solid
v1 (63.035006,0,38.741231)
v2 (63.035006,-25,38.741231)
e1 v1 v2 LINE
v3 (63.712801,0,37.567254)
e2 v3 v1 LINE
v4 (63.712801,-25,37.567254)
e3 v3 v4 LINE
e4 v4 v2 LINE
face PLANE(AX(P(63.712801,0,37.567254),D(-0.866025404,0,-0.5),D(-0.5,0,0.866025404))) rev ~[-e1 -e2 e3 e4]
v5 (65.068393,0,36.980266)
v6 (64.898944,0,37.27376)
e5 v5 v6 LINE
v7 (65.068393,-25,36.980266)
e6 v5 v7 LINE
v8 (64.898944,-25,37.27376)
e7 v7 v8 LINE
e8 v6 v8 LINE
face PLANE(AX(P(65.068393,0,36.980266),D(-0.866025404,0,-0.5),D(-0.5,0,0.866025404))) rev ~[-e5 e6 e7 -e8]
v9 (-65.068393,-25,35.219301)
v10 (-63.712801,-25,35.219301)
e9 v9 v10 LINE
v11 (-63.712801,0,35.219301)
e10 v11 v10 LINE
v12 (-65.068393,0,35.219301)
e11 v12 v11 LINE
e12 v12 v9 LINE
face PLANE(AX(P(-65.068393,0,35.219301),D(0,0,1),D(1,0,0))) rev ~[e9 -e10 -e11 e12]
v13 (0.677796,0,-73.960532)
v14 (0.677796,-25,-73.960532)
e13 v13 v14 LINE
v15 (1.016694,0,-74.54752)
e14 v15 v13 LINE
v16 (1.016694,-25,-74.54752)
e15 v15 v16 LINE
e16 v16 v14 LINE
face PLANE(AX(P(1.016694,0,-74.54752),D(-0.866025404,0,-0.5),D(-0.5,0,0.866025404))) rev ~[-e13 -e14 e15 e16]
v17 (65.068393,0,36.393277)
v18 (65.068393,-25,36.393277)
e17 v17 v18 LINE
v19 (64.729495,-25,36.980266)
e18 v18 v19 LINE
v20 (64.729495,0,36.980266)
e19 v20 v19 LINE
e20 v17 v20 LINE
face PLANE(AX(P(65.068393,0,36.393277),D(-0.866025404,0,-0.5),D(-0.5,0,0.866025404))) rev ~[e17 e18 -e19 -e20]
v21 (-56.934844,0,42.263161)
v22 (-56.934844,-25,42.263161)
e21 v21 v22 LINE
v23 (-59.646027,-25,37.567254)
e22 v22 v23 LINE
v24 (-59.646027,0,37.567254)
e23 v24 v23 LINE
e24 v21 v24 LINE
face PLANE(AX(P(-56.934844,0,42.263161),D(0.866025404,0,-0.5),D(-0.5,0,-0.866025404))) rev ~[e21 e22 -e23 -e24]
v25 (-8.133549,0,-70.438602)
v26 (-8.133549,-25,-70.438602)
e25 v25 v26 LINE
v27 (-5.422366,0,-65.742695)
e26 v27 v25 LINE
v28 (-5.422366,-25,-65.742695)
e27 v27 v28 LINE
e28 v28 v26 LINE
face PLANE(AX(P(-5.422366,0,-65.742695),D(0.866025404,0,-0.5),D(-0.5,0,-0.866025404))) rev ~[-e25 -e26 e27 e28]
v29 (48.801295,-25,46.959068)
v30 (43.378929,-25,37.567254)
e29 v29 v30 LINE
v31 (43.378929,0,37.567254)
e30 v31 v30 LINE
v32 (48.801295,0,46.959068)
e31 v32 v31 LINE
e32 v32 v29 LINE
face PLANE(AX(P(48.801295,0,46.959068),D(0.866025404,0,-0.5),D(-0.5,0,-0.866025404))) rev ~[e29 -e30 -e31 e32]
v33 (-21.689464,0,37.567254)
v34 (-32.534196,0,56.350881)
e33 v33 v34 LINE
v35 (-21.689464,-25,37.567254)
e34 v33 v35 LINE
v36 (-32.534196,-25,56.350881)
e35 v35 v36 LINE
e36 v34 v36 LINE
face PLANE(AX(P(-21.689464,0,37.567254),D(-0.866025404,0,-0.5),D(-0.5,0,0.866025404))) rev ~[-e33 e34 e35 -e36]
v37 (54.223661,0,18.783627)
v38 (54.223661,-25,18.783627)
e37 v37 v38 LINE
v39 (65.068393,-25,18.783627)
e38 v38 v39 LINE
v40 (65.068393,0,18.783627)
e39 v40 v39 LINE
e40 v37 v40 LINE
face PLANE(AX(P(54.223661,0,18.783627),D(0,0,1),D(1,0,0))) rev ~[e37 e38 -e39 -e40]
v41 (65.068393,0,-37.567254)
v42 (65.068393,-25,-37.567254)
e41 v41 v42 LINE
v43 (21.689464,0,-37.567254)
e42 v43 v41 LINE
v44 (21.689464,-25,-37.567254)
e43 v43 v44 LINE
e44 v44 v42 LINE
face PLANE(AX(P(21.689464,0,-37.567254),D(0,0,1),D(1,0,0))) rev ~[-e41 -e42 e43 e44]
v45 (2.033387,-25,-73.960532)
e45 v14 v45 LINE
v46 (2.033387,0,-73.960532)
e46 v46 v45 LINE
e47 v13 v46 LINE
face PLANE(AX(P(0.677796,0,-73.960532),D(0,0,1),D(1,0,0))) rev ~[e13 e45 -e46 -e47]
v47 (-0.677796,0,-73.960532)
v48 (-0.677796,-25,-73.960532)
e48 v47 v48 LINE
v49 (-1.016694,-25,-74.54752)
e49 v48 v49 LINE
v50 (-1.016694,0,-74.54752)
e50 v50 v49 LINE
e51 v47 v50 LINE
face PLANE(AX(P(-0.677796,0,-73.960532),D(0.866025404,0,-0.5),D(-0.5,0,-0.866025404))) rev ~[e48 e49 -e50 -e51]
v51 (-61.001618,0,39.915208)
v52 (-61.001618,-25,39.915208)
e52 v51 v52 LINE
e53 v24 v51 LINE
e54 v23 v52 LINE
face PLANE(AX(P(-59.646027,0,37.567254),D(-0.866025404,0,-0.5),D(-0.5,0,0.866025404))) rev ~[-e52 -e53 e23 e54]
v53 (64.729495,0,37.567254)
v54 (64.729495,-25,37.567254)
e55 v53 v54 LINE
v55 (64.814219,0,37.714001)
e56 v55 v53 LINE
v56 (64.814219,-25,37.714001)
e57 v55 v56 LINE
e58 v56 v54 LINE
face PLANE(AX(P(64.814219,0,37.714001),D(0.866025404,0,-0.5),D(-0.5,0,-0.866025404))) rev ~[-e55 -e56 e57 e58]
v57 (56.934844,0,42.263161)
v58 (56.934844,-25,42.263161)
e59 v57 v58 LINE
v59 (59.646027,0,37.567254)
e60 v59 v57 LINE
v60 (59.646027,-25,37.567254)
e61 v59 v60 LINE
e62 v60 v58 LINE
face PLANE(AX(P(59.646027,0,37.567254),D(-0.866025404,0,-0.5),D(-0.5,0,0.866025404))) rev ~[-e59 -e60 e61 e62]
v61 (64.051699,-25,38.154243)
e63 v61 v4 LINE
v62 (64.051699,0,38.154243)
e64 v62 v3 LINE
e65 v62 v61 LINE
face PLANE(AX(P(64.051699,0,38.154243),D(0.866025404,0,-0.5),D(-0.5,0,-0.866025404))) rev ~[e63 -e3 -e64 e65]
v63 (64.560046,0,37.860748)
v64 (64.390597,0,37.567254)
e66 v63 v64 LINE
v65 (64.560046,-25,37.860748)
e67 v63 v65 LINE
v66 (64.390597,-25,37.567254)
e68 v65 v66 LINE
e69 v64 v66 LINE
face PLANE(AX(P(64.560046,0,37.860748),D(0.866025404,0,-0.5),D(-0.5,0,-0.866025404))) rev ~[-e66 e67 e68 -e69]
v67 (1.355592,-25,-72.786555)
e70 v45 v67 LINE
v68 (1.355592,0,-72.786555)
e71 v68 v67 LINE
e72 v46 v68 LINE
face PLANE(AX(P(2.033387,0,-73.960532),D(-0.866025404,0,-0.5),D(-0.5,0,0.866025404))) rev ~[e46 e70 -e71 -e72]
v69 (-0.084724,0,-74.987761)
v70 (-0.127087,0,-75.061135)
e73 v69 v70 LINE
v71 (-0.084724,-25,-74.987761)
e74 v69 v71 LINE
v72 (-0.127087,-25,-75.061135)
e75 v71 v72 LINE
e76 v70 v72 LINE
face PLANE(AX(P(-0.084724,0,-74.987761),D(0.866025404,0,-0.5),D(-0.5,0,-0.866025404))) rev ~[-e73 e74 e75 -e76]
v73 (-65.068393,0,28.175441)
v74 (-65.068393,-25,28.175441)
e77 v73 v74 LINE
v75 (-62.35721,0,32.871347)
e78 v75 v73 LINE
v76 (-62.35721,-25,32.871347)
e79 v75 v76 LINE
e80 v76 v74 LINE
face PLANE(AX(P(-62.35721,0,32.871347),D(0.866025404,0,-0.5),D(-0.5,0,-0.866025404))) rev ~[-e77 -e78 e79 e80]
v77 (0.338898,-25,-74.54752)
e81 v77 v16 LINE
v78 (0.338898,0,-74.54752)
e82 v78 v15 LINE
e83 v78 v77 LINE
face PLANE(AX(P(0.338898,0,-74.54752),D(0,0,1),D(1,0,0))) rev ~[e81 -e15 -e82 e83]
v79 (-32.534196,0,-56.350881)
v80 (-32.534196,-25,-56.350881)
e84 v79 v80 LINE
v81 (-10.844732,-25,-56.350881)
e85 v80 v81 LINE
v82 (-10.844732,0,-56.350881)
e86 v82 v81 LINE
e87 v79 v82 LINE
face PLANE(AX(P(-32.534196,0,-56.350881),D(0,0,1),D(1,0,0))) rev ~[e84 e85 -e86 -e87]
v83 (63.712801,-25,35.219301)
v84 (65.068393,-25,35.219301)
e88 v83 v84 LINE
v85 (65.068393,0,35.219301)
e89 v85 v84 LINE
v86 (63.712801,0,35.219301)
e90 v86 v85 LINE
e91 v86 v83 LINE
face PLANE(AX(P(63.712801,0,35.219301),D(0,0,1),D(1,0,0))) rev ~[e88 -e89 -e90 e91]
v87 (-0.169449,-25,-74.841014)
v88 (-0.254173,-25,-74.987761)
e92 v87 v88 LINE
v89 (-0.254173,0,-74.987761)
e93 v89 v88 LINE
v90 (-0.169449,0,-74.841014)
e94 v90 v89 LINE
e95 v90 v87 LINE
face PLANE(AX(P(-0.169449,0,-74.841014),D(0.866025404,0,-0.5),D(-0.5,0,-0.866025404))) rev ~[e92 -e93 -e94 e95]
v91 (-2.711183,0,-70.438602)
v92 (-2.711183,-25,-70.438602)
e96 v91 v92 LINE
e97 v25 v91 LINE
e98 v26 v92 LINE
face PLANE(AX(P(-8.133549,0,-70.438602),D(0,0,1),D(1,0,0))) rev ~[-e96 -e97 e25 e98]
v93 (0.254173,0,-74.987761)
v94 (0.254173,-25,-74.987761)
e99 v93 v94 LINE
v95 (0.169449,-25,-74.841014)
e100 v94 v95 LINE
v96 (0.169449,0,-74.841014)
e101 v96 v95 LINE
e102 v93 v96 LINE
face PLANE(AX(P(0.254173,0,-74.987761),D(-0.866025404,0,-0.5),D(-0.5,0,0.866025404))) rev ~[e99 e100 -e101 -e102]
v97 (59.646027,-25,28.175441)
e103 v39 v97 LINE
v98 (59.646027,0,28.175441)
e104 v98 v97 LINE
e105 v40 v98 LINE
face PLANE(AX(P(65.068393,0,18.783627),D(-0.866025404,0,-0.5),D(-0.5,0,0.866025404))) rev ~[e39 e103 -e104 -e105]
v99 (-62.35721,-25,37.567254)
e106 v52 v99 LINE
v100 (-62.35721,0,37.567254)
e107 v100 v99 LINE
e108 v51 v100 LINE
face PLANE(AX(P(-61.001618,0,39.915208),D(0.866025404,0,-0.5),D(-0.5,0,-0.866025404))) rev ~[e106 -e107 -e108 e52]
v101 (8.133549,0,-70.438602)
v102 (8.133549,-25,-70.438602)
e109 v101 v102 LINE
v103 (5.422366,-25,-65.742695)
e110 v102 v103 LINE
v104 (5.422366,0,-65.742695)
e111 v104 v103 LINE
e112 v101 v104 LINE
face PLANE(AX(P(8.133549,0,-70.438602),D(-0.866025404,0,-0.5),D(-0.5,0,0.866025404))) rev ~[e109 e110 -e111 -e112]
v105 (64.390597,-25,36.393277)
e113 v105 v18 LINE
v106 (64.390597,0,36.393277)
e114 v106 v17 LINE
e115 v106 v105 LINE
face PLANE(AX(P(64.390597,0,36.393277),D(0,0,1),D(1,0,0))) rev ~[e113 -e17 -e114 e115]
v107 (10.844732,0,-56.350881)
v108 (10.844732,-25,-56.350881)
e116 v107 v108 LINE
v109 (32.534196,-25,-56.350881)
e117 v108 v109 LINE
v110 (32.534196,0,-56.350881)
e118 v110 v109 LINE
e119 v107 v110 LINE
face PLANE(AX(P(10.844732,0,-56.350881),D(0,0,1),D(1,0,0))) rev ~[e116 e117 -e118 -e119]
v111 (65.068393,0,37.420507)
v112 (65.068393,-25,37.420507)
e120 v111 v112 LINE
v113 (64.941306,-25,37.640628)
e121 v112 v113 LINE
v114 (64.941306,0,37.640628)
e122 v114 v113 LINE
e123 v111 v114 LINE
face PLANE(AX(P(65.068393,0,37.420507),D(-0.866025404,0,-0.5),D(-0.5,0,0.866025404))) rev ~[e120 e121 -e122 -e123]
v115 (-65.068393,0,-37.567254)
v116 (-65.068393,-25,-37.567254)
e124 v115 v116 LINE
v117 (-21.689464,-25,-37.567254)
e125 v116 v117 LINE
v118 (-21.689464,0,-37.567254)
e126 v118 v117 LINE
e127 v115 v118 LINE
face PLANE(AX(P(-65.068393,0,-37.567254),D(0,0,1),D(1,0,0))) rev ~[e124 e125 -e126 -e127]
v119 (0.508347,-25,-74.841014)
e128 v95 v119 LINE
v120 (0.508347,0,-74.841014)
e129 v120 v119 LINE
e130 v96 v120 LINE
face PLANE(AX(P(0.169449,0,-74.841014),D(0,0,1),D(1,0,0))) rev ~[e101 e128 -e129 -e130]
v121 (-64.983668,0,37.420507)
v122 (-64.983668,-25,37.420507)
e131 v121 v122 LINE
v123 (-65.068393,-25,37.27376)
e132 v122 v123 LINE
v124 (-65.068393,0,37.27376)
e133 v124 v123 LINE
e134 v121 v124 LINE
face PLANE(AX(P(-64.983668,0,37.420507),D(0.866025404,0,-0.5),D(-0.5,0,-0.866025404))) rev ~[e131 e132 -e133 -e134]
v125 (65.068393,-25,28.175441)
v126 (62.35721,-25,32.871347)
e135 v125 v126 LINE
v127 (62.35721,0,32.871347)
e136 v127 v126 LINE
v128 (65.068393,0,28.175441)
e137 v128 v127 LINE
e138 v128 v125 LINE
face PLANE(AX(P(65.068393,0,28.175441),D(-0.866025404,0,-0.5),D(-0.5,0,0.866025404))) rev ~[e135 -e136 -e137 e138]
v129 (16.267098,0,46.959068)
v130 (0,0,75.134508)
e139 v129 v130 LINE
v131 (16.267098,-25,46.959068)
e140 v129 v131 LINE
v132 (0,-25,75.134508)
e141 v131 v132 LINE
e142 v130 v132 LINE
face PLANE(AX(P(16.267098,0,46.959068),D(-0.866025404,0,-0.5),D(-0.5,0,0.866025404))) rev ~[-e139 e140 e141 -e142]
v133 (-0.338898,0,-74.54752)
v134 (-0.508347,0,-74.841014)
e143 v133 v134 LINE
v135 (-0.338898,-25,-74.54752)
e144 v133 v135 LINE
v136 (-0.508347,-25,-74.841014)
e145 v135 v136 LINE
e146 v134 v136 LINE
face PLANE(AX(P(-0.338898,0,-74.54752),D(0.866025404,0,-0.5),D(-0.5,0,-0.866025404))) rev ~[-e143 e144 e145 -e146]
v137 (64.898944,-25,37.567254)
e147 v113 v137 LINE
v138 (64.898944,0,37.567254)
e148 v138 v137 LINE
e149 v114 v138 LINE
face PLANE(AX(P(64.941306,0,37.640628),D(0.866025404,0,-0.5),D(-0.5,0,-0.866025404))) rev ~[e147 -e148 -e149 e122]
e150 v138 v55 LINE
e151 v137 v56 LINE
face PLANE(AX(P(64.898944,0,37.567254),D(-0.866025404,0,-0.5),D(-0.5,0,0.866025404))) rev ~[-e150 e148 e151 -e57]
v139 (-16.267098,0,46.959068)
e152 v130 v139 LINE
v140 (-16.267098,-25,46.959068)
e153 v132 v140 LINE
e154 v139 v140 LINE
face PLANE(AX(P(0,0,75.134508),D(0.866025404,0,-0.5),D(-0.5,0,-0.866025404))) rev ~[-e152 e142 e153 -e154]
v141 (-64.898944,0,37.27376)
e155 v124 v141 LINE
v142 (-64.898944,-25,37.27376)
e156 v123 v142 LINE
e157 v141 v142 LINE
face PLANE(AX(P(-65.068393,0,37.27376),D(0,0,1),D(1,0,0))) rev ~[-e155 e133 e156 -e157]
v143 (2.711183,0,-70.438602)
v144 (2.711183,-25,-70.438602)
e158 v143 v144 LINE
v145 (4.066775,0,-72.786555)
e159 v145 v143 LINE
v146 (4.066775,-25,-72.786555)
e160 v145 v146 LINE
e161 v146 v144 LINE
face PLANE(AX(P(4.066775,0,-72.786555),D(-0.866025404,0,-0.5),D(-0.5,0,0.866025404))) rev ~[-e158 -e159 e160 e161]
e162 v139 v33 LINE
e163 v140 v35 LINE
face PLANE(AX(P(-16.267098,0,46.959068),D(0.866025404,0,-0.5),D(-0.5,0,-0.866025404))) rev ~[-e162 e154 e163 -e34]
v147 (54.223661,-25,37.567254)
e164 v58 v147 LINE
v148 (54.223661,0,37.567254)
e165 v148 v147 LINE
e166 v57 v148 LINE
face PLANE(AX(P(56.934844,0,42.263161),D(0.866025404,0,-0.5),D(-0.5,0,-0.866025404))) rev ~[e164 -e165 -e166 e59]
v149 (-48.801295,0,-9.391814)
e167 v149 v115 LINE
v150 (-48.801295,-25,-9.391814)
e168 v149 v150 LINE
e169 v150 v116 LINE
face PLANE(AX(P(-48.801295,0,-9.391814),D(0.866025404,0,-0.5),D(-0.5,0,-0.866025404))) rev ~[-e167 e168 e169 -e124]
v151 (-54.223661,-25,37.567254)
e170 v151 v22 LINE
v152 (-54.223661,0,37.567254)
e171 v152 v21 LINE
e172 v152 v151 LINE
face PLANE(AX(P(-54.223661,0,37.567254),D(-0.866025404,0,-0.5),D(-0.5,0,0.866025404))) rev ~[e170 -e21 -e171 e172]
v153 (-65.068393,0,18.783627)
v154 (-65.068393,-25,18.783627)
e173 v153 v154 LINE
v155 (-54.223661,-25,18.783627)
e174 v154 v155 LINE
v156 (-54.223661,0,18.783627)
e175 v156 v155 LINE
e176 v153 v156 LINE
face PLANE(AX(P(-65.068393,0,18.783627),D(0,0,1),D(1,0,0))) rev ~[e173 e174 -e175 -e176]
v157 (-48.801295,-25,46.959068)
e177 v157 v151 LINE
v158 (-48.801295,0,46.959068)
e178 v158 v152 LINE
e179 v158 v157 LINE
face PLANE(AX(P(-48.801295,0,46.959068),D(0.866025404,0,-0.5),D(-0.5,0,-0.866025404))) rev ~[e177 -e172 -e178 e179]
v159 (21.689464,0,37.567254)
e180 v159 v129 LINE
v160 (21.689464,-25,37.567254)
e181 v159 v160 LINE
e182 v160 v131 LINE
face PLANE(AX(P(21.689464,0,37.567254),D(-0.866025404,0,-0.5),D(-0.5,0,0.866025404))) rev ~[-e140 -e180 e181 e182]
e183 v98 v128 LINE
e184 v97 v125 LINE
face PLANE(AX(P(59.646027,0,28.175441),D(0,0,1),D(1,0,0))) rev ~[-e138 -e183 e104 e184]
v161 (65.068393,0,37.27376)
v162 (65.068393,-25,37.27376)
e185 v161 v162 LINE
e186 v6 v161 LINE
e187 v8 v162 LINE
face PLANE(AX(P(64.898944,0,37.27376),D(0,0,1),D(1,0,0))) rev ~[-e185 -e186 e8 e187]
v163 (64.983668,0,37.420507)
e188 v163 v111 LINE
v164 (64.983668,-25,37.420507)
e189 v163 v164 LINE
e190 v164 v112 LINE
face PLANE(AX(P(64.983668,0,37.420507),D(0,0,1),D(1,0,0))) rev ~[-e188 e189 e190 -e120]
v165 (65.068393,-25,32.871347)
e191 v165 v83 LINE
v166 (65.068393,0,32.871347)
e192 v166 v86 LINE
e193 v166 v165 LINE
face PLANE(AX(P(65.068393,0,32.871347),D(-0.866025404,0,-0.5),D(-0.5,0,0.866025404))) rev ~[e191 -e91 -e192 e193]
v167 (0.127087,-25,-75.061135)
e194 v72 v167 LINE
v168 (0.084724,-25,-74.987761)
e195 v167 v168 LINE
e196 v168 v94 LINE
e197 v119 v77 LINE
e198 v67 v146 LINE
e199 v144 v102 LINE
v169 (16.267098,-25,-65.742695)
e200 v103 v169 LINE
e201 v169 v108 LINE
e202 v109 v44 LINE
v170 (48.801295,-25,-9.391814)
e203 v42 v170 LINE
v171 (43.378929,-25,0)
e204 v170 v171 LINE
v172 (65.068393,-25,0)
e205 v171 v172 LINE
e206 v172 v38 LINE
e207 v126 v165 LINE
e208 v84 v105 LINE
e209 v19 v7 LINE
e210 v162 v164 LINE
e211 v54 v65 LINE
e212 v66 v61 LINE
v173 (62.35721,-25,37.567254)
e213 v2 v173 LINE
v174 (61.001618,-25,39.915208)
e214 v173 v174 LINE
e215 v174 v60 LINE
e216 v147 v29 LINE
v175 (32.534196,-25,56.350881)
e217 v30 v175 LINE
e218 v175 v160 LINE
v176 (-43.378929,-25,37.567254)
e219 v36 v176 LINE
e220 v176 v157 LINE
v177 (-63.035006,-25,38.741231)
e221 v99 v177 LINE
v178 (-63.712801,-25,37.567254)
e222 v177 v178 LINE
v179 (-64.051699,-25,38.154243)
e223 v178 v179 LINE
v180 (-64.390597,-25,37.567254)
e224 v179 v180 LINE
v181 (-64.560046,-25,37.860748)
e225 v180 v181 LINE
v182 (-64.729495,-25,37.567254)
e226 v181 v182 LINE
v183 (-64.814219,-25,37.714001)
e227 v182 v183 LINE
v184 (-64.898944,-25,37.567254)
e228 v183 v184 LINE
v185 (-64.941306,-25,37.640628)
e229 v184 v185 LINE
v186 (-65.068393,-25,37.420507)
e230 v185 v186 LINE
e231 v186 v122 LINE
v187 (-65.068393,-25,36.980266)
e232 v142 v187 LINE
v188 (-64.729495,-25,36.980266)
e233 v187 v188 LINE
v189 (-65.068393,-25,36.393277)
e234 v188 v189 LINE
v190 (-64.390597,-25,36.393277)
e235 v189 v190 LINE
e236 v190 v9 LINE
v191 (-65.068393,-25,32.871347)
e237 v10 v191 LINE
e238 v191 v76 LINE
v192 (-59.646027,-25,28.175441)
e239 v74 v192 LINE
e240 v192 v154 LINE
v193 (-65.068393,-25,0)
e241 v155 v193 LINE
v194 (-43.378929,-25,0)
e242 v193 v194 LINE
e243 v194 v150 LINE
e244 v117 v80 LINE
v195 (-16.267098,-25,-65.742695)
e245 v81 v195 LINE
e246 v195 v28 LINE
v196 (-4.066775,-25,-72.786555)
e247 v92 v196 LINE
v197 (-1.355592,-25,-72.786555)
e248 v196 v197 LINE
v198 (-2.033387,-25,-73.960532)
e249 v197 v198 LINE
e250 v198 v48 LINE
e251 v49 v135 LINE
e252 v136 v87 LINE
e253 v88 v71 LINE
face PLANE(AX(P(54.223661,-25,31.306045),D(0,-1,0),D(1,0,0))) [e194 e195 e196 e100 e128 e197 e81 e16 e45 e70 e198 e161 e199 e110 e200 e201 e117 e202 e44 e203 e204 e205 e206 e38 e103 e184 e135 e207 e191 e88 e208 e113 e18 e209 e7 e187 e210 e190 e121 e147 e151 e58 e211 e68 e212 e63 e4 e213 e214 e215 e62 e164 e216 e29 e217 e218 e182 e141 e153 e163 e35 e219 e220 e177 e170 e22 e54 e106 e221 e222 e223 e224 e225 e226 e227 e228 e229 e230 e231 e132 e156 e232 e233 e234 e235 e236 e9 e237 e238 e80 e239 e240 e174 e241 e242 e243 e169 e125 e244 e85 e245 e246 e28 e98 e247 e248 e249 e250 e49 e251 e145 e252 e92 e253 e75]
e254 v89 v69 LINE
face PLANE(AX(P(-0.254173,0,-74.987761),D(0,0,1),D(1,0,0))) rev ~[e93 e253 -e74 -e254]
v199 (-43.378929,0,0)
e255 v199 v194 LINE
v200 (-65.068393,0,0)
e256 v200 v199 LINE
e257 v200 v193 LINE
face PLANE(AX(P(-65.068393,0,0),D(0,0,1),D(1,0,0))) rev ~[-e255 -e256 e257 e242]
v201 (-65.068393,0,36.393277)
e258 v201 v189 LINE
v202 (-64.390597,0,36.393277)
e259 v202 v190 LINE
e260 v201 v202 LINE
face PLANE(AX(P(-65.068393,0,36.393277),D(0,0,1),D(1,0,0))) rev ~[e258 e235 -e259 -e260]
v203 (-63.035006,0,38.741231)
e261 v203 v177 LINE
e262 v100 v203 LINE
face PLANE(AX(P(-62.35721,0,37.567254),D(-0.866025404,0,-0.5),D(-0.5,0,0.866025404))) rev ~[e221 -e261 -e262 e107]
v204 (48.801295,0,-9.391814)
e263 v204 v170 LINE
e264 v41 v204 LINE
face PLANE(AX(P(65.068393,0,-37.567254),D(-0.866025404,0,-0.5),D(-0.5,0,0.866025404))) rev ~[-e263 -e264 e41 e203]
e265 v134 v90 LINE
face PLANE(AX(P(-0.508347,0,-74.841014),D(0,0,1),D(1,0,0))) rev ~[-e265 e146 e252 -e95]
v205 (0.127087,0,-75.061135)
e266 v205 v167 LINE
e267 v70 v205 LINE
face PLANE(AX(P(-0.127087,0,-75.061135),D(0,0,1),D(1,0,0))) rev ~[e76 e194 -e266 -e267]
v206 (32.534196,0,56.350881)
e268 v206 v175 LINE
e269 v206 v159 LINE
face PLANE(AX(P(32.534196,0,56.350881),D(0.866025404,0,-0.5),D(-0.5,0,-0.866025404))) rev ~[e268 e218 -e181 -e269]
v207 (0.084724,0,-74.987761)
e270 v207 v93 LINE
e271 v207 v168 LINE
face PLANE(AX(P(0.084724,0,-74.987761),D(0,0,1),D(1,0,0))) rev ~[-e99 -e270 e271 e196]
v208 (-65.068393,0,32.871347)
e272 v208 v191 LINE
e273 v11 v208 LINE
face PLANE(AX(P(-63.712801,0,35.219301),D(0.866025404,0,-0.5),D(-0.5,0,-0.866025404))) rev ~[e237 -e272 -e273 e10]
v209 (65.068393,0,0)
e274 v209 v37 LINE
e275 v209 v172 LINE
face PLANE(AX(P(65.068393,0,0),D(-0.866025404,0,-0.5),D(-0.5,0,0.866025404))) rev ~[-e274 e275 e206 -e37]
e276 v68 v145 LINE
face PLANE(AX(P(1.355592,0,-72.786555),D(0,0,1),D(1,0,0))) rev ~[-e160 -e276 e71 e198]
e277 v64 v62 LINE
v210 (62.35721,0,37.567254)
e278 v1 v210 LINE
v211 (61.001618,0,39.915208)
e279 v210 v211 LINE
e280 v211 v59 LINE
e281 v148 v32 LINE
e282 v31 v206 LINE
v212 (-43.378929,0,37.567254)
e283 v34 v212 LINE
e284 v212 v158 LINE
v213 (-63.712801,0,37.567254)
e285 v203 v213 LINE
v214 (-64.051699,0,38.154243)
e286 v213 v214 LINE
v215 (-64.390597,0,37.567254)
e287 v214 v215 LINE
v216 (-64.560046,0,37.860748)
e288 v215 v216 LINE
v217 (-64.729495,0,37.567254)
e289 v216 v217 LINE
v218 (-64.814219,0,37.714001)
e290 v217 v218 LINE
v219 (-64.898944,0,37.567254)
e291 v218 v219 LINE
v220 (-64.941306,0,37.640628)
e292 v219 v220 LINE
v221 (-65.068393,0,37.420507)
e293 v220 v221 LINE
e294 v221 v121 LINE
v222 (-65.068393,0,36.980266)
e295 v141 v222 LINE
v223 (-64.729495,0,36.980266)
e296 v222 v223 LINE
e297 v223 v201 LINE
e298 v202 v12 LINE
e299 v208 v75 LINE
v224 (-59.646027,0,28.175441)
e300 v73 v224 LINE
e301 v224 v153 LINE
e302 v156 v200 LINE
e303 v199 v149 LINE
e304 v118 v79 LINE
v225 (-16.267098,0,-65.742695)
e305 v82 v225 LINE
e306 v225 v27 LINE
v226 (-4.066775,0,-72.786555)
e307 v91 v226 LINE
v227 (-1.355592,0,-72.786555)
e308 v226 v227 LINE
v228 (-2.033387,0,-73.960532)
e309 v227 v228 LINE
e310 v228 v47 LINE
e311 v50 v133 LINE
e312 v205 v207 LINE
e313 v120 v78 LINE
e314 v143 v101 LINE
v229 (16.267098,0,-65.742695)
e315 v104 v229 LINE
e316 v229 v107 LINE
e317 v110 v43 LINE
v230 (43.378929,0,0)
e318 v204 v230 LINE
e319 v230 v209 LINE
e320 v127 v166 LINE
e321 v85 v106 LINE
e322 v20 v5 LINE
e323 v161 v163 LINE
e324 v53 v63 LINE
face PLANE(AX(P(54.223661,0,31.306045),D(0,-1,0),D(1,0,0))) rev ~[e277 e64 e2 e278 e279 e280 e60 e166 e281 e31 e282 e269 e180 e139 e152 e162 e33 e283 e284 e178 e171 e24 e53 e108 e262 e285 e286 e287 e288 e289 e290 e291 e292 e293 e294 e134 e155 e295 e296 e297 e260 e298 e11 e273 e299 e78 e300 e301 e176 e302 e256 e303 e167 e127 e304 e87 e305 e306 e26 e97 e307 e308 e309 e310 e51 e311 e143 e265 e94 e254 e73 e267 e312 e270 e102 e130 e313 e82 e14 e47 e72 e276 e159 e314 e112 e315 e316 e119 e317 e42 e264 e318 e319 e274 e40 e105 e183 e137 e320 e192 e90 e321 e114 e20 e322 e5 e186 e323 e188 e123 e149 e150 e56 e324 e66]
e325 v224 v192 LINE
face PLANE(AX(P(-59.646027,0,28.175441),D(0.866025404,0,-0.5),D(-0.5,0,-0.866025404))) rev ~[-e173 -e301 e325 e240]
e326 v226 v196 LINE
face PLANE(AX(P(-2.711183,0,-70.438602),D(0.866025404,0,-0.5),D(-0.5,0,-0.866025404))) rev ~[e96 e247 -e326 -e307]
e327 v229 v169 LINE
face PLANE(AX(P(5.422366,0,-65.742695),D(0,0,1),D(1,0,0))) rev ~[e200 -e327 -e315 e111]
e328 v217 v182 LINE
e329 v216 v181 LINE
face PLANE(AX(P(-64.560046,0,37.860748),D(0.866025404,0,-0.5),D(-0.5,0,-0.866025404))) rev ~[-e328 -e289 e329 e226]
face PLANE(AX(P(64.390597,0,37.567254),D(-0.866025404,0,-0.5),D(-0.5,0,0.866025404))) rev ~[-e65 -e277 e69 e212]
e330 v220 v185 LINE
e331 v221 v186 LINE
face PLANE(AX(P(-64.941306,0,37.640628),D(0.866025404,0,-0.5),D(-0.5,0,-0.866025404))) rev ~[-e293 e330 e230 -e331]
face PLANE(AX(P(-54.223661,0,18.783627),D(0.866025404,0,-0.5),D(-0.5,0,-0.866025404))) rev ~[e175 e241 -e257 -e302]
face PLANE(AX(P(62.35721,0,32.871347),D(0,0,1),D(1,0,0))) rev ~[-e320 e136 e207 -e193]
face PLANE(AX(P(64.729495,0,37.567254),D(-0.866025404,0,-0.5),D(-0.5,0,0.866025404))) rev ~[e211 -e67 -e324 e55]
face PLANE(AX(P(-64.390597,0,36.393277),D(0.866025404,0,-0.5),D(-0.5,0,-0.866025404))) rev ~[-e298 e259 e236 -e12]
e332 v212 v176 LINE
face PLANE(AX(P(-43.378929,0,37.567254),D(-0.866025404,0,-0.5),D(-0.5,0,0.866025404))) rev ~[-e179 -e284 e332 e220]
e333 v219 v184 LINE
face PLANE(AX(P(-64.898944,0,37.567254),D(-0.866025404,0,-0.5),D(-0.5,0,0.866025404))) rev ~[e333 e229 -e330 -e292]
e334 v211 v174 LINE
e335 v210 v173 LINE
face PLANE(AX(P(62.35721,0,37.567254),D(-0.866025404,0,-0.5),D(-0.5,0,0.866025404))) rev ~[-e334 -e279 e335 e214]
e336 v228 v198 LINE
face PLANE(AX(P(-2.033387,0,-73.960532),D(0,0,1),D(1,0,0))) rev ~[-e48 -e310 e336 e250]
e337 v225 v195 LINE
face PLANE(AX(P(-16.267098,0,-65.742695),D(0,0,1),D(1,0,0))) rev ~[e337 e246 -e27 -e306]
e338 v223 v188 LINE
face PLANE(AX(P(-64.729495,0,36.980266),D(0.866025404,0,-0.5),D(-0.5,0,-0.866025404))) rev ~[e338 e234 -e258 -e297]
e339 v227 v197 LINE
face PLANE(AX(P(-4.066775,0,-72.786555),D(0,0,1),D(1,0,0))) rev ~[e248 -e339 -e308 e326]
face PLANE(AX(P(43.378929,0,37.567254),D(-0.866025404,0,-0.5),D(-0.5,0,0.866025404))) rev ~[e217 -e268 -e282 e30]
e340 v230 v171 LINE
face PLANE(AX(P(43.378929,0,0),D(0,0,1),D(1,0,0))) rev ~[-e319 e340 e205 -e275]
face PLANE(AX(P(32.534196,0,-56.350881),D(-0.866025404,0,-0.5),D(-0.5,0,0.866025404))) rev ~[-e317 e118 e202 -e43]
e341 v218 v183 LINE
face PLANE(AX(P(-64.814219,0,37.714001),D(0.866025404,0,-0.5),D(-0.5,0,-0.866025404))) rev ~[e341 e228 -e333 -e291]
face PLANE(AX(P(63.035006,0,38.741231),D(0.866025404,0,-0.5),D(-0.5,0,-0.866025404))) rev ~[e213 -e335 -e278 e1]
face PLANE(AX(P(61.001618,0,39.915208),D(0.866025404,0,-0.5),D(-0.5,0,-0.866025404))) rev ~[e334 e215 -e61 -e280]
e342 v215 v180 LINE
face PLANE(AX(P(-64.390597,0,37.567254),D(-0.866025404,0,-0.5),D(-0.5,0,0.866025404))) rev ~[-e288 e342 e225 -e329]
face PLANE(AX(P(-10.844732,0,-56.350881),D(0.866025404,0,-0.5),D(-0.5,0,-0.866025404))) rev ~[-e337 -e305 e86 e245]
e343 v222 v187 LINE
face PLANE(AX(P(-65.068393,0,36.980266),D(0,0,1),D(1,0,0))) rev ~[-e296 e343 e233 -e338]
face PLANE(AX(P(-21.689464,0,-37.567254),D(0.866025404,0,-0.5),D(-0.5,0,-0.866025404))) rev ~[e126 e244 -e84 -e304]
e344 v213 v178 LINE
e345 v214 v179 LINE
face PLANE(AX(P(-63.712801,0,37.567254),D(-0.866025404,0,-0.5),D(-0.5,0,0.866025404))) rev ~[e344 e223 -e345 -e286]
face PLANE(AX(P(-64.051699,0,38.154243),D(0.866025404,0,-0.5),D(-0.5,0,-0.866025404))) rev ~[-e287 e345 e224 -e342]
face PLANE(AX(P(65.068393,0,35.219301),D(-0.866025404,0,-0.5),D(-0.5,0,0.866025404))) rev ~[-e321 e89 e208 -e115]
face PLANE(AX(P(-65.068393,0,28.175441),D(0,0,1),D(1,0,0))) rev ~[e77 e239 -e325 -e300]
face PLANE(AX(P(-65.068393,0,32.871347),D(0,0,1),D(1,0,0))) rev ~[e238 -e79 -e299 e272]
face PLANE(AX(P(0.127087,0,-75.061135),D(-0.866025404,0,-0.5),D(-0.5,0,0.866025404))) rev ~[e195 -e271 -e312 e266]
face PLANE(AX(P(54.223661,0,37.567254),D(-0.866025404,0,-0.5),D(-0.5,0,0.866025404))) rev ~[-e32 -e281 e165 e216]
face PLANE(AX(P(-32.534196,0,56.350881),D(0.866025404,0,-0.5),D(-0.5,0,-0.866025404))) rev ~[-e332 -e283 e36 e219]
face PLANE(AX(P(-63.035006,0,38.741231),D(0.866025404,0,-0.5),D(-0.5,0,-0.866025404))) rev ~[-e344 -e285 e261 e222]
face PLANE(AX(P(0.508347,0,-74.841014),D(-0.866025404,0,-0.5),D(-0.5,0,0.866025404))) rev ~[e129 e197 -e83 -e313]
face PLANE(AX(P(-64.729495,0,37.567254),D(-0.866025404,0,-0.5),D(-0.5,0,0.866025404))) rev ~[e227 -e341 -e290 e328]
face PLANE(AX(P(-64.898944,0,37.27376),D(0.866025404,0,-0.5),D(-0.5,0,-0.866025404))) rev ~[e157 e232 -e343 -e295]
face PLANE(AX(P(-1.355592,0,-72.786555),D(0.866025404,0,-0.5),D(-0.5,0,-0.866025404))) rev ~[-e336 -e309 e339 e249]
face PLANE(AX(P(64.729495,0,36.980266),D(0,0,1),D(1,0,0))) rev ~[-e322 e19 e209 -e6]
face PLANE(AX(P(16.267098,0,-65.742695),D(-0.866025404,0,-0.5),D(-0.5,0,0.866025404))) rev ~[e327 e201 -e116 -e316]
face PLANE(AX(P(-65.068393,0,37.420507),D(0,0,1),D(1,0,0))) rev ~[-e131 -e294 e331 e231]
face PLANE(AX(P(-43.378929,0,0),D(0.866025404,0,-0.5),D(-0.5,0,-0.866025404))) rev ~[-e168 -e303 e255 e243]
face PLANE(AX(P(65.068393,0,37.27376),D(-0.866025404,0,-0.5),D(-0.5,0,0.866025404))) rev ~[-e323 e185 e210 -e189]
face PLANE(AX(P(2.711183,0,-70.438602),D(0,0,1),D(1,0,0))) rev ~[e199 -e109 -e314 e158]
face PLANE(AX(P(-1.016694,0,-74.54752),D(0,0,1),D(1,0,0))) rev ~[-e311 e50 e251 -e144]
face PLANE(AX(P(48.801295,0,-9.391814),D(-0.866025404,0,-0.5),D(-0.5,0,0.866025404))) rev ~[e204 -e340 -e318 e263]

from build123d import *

# Parameters (mm, degrees)
F1_DEPTH = 25


with BuildPart() as f1:
    # F0 (on Front) → F1 (new body)
    with BuildSketch(Plane.XZ):
        Polygon((54.223660749, 37.5672541559), (48.8012946741, 28.1754406169), (59.6460268239, 28.1754406169), (56.9348437865, 32.8713473864), align=None)
        Polygon((43.3789285992, 0), (32.5341964494, 18.7836270779), (21.6894642996, 0), align=None)
        Polygon((0, 0), (-10.8447321498, 18.7836270779), (-32.5341964494, 18.7836270779), (-21.6894642996, 0), align=None)
        Polygon((56.9348437865, 32.8713473864), (59.6460268239, 28.1754406169), (65.0683928988, 28.1754406169), (62.3572098614, 32.8713473864), align=None)
        Polygon((21.6894642996, 0), (32.5341964494, 18.7836270779), (10.8447321498, 18.7836270779), (0, 0), align=None)
        Polygon((48.8012946741, 28.1754406169), (54.223660749, 18.7836270779), (65.0683928988, 18.7836270779), (59.6460268239, 28.1754406169), align=None)
        Polygon((-21.6894642996, 0), (-43.3789285992, 0), (-48.8012946741, -9.391813539), (-16.2670982247, -9.391813539), align=None)
        Polygon((0, -37.5672541559), (-10.8447321498, -18.7836270779), (-21.6894642996, -37.5672541559), align=None)
        Polygon((32.5341964494, 18.7836270779), (21.6894642996, 37.5672541559), (10.8447321498, 18.7836270779), align=None)
        Polygon((-59.6460268239, 28.1754406169), (-48.8012946741, 28.1754406169), (-54.223660749, 37.5672541559), (-56.9348437865, 32.8713473864), align=None)
        Polygon((-10.8447321498, -18.7836270779), (0, 0), (-21.6894642996, 0), (-16.2670982247, -9.391813539), align=None)
        Polygon((54.223660749, 18.7836270779), (32.5341964494, 18.7836270779), (43.3789285992, 0), (65.0683928988, 0), align=None)
        Polygon((-21.6894642996, 0), (-32.5341964494, 18.7836270779), (-43.3789285992, 0), align=None)
        Polygon((32.5341964494, -37.5672541559), (16.2670982247, -9.391813539), (10.8447321498, -18.7836270779), (21.6894642996, -37.5672541559), align=None)
        Polygon((10.8447321498, -56.3508812338), (0, -37.5672541559), (-10.8447321498, -56.3508812338), (0, -56.3508812338), align=None)
        Polygon((48.8012946741, -9.391813539), (43.3789285992, 0), (21.6894642996, 0), (16.2670982247, -9.391813539), align=None)
        Polygon((48.8012946741, 46.9590676948), (43.3789285992, 37.5672541559), (48.8012946741, 28.1754406169), (54.223660749, 37.5672541559), align=None)
        Polygon((-21.6894642996, -37.5672541559), (-10.8447321498, -18.7836270779), (-16.2670982247, -9.391813539), (-32.5341964494, -37.5672541559), align=None)
        Polygon((43.3789285992, 37.5672541559), (32.5341964494, 18.7836270779), (54.223660749, 18.7836270779), (48.8012946741, 28.1754406169), align=None)
        Polygon((-10.8447321498, -56.3508812338), (0, -37.5672541559), (-21.6894642996, -37.5672541559), (-32.5341964494, -56.3508812338), align=None)
        Polygon((32.5341964494, 56.3508812338), (21.6894642996, 37.5672541559), (32.5341964494, 18.7836270779), (43.3789285992, 37.5672541559), align=None)
        Polygon((16.2670982247, -9.391813539), (21.6894642996, 0), (0, 0), (10.8447321498, -18.7836270779), align=None)
        Polygon((21.6894642996, -37.5672541559), (10.8447321498, -18.7836270779), (0, -37.5672541559), align=None)
        Polygon((16.2670982247, 46.9590676948), (0, 75.1345083117), (-16.2670982247, 46.9590676948), (0, 18.7836270779), align=None)
        Polygon((65.0683928988, -37.5672541559), (48.8012946741, -9.391813539), (16.2670982247, -9.391813539), (32.5341964494, -37.5672541559), align=None)
        Polygon((-16.2670982247, -9.391813539), (-48.8012946741, -9.391813539), (-65.0683928988, -37.5672541559), (-32.5341964494, -37.5672541559), align=None)
        Polygon((-43.3789285992, 0), (-32.5341964494, 18.7836270779), (-54.223660749, 18.7836270779), (-65.0683928988, 0), align=None)
        Polygon((-10.8447321498, 18.7836270779), (-21.6894642996, 37.5672541559), (-32.5341964494, 18.7836270779), align=None)
        Polygon((-65.0683928988, 18.7836270779), (-54.223660749, 18.7836270779), (-48.8012946741, 28.1754406169), (-59.6460268239, 28.1754406169), align=None)
        Polygon((-48.8012946741, 28.1754406169), (-43.3789285992, 37.5672541559), (-48.8012946741, 46.9590676948), (-54.223660749, 37.5672541559), align=None)
        Polygon((-32.5341964494, 18.7836270779), (-21.6894642996, 37.5672541559), (-32.5341964494, 56.3508812338), (-43.3789285992, 37.5672541559), align=None)
        Polygon((32.5341964494, -56.3508812338), (21.6894642996, -37.5672541559), (0, -37.5672541559), (10.8447321498, -56.3508812338), align=None)
        Polygon((16.2670982247, -65.7426947728), (10.8447321498, -56.3508812338), (0, -56.3508812338), (5.4223660749, -65.7426947728), align=None)
        Polygon((0, -56.3508812338), (-10.8447321498, -56.3508812338), (-16.2670982247, -65.7426947728), (-5.4223660749, -65.7426947728), align=None)
        Polygon((-54.223660749, 18.7836270779), (-32.5341964494, 18.7836270779), (-43.3789285992, 37.5672541559), (-48.8012946741, 28.1754406169), align=None)
        Polygon((21.6894642996, 37.5672541559), (16.2670982247, 46.9590676948), (0, 18.7836270779), (10.8447321498, 18.7836270779), align=None)
        Polygon((10.8447321498, -18.7836270779), (0, 0), (-10.8447321498, -18.7836270779), (0, -37.5672541559), align=None)
        Polygon((0, 18.7836270779), (-16.2670982247, 46.9590676948), (-21.6894642996, 37.5672541559), (-10.8447321498, 18.7836270779), align=None)
        Polygon((10.8447321498, 18.7836270779), (0, 18.7836270779), (-10.8447321498, 18.7836270779), (0, 0), align=None)
        Polygon((-56.9348437865, 32.8713473864), (-54.223660749, 37.5672541559), (-56.9348437865, 42.2631609254), (-59.6460268239, 37.5672541559), align=None)
        Polygon((0, -65.7426947728), (-5.4223660749, -65.7426947728), (-8.1335491124, -70.4386015423), (-2.7111830375, -70.4386015423), align=None)
        Polygon((8.1335491124, -70.4386015423), (5.4223660749, -65.7426947728), (0, -65.7426947728), (2.7111830375, -70.4386015423), align=None)
        Polygon((56.9348437865, 42.2631609254), (54.223660749, 37.5672541559), (56.9348437865, 32.8713473864), (59.6460268239, 37.5672541559), align=None)
        Polygon((-65.0683928988, 28.1754406169), (-59.6460268239, 28.1754406169), (-56.9348437865, 32.8713473864), (-62.3572098614, 32.8713473864), align=None)
        Polygon((5.4223660749, -65.7426947728), (0, -56.3508812338), (-5.4223660749, -65.7426947728), (0, -65.7426947728), align=None)
        Polygon((2.7111830375, -70.4386015423), (0, -65.7426947728), (-2.7111830375, -70.4386015423), (0, -70.4386015423), align=None)
        Polygon((-62.3572098614, 32.8713473864), (-56.9348437865, 32.8713473864), (-59.6460268239, 37.5672541559), (-61.0016183427, 35.2193007711), align=None)
        Polygon((59.6460268239, 37.5672541559), (56.9348437865, 32.8713473864), (62.3572098614, 32.8713473864), (61.0016183426, 35.2193007711), align=None)
        Polygon((4.0667745562, -72.786554927), (2.7111830375, -70.4386015423), (0, -70.4386015423), (1.3555915187, -72.786554927), align=None)
        Polygon((-61.0016183427, 35.2193007711), (-59.6460268239, 37.5672541559), (-61.0016183427, 39.9152075406), (-62.3572098614, 37.5672541559), align=None)
        Polygon((61.0016183426, 39.9152075406), (59.6460268239, 37.5672541559), (61.0016183426, 35.2193007711), (62.3572098614, 37.5672541559), align=None)
        Polygon((0, -70.4386015423), (-2.7111830375, -70.4386015423), (-4.0667745562, -72.786554927), (-1.3555915187, -72.786554927), align=None)
        Polygon((61.0016183426, 35.2193007711), (62.3572098614, 32.8713473864), (65.0683928988, 32.8713473864), (63.7128013801, 35.2193007711), align=None)
        Polygon((62.3572098614, 37.5672541559), (61.0016183426, 35.2193007711), (63.7128013801, 35.2193007711), (63.0350056207, 36.3932774635), align=None)
        Polygon((-65.0683928988, 32.8713473864), (-62.3572098614, 32.8713473864), (-61.0016183427, 35.2193007711), (-63.7128013801, 35.2193007711), align=None)
        Polygon((1.3555915187, -72.786554927), (0, -70.4386015423), (-1.3555915187, -72.786554927), (0, -72.786554927), align=None)
        Polygon((63.0350056207, 36.3932774635), (63.7128013801, 35.2193007711), (65.0683928988, 35.2193007711), (64.3905971395, 36.3932774635), align=None)
        Polygon((63.0350056207, 38.7412308482), (62.3572098614, 37.5672541559), (63.0350056207, 36.3932774635), (63.7128013801, 37.5672541559), align=None)
        Polygon((63.7128013801, 37.5672541559), (63.0350056207, 36.3932774635), (64.3905971395, 36.3932774635), (64.0516992598, 36.9802658097), align=None)
        Polygon((0, -72.786554927), (-1.3555915187, -72.786554927), (-2.0333872781, -73.9605316194), (-0.6777957594, -73.9605316194), align=None)
        Polygon((2.0333872781, -73.9605316194), (1.3555915187, -72.786554927), (0, -72.786554927), (0.6777957594, -73.9605316194), align=None)
        Polygon((-65.0683928988, 35.2193007711), (-63.7128013801, 35.2193007711), (-63.0350056207, 36.3932774635), (-64.3905971395, 36.3932774635), align=None)
        Polygon((-63.7128013801, 35.2193007711), (-61.0016183427, 35.2193007711), (-62.3572098614, 37.5672541559), (-63.0350056207, 36.3932774635), align=None)
        Polygon((0.5083468195, -74.8410141387), (0.3388978797, -74.5475199656), (0, -74.5475199656), (0.1694489398, -74.8410141387), align=None)
        Polygon((0.6777957594, -73.9605316194), (0, -72.786554927), (-0.6777957594, -73.9605316194), (0, -73.9605316194), align=None)
        Polygon((1.016693639, -74.5475199656), (0.6777957594, -73.9605316194), (0, -73.9605316194), (0.3388978797, -74.5475199656), align=None)
        Polygon((-63.0350056207, 36.3932774635), (-62.3572098614, 37.5672541559), (-63.0350056207, 38.7412308482), (-63.7128013801, 37.5672541559), align=None)
        Polygon((0.3388978797, -74.5475199656), (0, -73.9605316194), (-0.3388978797, -74.5475199656), (0, -74.5475199656), align=None)
        Polygon((0, -74.5475199656), (-0.3388978797, -74.5475199656), (-0.5083468195, -74.8410141387), (-0.1694489398, -74.8410141387), align=None)
        Polygon((0, -74.8410141387), (-0.1694489398, -74.8410141387), (-0.2541734098, -74.9877612252), (-0.0847244699, -74.9877612252), align=None)
        Polygon((64.3905971395, 37.5672541559), (64.0516992598, 36.9802658097), (64.7294950191, 36.9802658097), (64.5600460793, 37.2737599828), align=None)
        Polygon((-65.0683928988, 36.3932774635), (-64.3905971395, 36.3932774635), (-64.0516992598, 36.9802658097), (-64.7294950191, 36.9802658097), align=None)
        Polygon((0.1694489398, -74.8410141387), (0, -74.5475199656), (-0.1694489398, -74.8410141387), (0, -74.8410141387), align=None)
        Polygon((-64.0516992598, 36.9802658097), (-63.7128013801, 37.5672541559), (-64.0516992598, 38.1542425021), (-64.3905971395, 37.5672541559), align=None)
        Polygon((64.0516992598, 38.1542425021), (63.7128013801, 37.5672541559), (64.0516992598, 36.9802658097), (64.3905971395, 37.5672541559), align=None)
        Polygon((-64.3905971395, 36.3932774635), (-63.0350056207, 36.3932774635), (-63.7128013801, 37.5672541559), (-64.0516992598, 36.9802658097), align=None)
        Polygon((-64.5600460793, 37.2737599828), (-64.3905971395, 37.5672541559), (-64.5600460793, 37.860748329), (-64.7294950191, 37.5672541559), align=None)
        Polygon((0.2541734098, -74.9877612252), (0.1694489398, -74.8410141387), (0, -74.8410141387), (0.0847244699, -74.9877612252), align=None)
        Polygon((0, -73.9605316194), (-0.6777957594, -73.9605316194), (-1.016693639, -74.5475199656), (-0.3388978797, -74.5475199656), align=None)
        Polygon((64.5600460793, 37.860748329), (64.3905971395, 37.5672541559), (64.5600460793, 37.2737599828), (64.7294950191, 37.5672541559), align=None)
        Polygon((0.0847244699, -74.9877612252), (0, -74.8410141387), (-0.0847244699, -74.9877612252), align=None)
        Polygon((-64.7294950191, 36.9802658097), (-64.0516992598, 36.9802658097), (-64.3905971395, 37.5672541559), (-64.5600460793, 37.2737599828), align=None)
        Polygon((64.0516992598, 36.9802658097), (64.3905971395, 36.3932774635), (65.0683928988, 36.3932774635), (64.7294950191, 36.9802658097), align=None)
        Polygon((-64.9836684289, 37.4205070693), (-64.8142194891, 37.4205070693), (-64.898943959, 37.5672541559), align=None)
        Polygon((64.8142194891, 37.7140012424), (64.7294950191, 37.5672541559), (64.8142194891, 37.4205070693), (64.898943959, 37.5672541559), align=None)
        Polygon((-65.0683928988, 36.9802658097), (-64.7294950191, 36.9802658097), (-64.5600460793, 37.2737599828), (-64.898943959, 37.2737599828), align=None)
        Polygon((64.5600460793, 37.2737599828), (64.7294950191, 36.9802658097), (65.0683928988, 36.9802658097), (64.898943959, 37.2737599828), align=None)
        Polygon((0.1270867049, -75.0611347685), (0.0847244699, -74.9877612252), (-0.0847244699, -74.9877612252), (-0.1270867049, -75.0611347685), align=None)
        Polygon((64.8142194891, 37.4205070693), (64.898943959, 37.2737599828), (65.0683928988, 37.2737599828), (64.9836684289, 37.4205070693), align=None)
        Polygon((-65.0683928988, 37.2737599828), (-64.898943959, 37.2737599828), (-64.8142194891, 37.4205070693), (-64.9836684289, 37.4205070693), align=None)
        Polygon((64.898943959, 37.5672541559), (64.8142194891, 37.4205070693), (64.9836684289, 37.4205070693), align=None)
        Polygon((-64.8142194891, 37.4205070693), (-64.7294950191, 37.5672541559), (-64.8142194891, 37.7140012424), (-64.898943959, 37.5672541559), align=None)
        Polygon((-64.898943959, 37.2737599828), (-64.5600460793, 37.2737599828), (-64.7294950191, 37.5672541559), (-64.8142194891, 37.4205070693), align=None)
        Polygon((64.9413061939, 37.6406276991), (64.898943959, 37.5672541559), (64.9836684289, 37.4205070693), (65.0683928988, 37.4205070693), align=None)
        Polygon((64.7294950191, 37.5672541559), (64.5600460793, 37.2737599828), (64.898943959, 37.2737599828), (64.8142194891, 37.4205070693), align=None)
        Polygon((-65.0683928988, 37.4205070693), (-64.9836684289, 37.4205070693), (-64.898943959, 37.5672541559), (-64.9413061939, 37.6406276991), align=None)
    extrude(amount=F1_DEPTH)


solid = f1.part
